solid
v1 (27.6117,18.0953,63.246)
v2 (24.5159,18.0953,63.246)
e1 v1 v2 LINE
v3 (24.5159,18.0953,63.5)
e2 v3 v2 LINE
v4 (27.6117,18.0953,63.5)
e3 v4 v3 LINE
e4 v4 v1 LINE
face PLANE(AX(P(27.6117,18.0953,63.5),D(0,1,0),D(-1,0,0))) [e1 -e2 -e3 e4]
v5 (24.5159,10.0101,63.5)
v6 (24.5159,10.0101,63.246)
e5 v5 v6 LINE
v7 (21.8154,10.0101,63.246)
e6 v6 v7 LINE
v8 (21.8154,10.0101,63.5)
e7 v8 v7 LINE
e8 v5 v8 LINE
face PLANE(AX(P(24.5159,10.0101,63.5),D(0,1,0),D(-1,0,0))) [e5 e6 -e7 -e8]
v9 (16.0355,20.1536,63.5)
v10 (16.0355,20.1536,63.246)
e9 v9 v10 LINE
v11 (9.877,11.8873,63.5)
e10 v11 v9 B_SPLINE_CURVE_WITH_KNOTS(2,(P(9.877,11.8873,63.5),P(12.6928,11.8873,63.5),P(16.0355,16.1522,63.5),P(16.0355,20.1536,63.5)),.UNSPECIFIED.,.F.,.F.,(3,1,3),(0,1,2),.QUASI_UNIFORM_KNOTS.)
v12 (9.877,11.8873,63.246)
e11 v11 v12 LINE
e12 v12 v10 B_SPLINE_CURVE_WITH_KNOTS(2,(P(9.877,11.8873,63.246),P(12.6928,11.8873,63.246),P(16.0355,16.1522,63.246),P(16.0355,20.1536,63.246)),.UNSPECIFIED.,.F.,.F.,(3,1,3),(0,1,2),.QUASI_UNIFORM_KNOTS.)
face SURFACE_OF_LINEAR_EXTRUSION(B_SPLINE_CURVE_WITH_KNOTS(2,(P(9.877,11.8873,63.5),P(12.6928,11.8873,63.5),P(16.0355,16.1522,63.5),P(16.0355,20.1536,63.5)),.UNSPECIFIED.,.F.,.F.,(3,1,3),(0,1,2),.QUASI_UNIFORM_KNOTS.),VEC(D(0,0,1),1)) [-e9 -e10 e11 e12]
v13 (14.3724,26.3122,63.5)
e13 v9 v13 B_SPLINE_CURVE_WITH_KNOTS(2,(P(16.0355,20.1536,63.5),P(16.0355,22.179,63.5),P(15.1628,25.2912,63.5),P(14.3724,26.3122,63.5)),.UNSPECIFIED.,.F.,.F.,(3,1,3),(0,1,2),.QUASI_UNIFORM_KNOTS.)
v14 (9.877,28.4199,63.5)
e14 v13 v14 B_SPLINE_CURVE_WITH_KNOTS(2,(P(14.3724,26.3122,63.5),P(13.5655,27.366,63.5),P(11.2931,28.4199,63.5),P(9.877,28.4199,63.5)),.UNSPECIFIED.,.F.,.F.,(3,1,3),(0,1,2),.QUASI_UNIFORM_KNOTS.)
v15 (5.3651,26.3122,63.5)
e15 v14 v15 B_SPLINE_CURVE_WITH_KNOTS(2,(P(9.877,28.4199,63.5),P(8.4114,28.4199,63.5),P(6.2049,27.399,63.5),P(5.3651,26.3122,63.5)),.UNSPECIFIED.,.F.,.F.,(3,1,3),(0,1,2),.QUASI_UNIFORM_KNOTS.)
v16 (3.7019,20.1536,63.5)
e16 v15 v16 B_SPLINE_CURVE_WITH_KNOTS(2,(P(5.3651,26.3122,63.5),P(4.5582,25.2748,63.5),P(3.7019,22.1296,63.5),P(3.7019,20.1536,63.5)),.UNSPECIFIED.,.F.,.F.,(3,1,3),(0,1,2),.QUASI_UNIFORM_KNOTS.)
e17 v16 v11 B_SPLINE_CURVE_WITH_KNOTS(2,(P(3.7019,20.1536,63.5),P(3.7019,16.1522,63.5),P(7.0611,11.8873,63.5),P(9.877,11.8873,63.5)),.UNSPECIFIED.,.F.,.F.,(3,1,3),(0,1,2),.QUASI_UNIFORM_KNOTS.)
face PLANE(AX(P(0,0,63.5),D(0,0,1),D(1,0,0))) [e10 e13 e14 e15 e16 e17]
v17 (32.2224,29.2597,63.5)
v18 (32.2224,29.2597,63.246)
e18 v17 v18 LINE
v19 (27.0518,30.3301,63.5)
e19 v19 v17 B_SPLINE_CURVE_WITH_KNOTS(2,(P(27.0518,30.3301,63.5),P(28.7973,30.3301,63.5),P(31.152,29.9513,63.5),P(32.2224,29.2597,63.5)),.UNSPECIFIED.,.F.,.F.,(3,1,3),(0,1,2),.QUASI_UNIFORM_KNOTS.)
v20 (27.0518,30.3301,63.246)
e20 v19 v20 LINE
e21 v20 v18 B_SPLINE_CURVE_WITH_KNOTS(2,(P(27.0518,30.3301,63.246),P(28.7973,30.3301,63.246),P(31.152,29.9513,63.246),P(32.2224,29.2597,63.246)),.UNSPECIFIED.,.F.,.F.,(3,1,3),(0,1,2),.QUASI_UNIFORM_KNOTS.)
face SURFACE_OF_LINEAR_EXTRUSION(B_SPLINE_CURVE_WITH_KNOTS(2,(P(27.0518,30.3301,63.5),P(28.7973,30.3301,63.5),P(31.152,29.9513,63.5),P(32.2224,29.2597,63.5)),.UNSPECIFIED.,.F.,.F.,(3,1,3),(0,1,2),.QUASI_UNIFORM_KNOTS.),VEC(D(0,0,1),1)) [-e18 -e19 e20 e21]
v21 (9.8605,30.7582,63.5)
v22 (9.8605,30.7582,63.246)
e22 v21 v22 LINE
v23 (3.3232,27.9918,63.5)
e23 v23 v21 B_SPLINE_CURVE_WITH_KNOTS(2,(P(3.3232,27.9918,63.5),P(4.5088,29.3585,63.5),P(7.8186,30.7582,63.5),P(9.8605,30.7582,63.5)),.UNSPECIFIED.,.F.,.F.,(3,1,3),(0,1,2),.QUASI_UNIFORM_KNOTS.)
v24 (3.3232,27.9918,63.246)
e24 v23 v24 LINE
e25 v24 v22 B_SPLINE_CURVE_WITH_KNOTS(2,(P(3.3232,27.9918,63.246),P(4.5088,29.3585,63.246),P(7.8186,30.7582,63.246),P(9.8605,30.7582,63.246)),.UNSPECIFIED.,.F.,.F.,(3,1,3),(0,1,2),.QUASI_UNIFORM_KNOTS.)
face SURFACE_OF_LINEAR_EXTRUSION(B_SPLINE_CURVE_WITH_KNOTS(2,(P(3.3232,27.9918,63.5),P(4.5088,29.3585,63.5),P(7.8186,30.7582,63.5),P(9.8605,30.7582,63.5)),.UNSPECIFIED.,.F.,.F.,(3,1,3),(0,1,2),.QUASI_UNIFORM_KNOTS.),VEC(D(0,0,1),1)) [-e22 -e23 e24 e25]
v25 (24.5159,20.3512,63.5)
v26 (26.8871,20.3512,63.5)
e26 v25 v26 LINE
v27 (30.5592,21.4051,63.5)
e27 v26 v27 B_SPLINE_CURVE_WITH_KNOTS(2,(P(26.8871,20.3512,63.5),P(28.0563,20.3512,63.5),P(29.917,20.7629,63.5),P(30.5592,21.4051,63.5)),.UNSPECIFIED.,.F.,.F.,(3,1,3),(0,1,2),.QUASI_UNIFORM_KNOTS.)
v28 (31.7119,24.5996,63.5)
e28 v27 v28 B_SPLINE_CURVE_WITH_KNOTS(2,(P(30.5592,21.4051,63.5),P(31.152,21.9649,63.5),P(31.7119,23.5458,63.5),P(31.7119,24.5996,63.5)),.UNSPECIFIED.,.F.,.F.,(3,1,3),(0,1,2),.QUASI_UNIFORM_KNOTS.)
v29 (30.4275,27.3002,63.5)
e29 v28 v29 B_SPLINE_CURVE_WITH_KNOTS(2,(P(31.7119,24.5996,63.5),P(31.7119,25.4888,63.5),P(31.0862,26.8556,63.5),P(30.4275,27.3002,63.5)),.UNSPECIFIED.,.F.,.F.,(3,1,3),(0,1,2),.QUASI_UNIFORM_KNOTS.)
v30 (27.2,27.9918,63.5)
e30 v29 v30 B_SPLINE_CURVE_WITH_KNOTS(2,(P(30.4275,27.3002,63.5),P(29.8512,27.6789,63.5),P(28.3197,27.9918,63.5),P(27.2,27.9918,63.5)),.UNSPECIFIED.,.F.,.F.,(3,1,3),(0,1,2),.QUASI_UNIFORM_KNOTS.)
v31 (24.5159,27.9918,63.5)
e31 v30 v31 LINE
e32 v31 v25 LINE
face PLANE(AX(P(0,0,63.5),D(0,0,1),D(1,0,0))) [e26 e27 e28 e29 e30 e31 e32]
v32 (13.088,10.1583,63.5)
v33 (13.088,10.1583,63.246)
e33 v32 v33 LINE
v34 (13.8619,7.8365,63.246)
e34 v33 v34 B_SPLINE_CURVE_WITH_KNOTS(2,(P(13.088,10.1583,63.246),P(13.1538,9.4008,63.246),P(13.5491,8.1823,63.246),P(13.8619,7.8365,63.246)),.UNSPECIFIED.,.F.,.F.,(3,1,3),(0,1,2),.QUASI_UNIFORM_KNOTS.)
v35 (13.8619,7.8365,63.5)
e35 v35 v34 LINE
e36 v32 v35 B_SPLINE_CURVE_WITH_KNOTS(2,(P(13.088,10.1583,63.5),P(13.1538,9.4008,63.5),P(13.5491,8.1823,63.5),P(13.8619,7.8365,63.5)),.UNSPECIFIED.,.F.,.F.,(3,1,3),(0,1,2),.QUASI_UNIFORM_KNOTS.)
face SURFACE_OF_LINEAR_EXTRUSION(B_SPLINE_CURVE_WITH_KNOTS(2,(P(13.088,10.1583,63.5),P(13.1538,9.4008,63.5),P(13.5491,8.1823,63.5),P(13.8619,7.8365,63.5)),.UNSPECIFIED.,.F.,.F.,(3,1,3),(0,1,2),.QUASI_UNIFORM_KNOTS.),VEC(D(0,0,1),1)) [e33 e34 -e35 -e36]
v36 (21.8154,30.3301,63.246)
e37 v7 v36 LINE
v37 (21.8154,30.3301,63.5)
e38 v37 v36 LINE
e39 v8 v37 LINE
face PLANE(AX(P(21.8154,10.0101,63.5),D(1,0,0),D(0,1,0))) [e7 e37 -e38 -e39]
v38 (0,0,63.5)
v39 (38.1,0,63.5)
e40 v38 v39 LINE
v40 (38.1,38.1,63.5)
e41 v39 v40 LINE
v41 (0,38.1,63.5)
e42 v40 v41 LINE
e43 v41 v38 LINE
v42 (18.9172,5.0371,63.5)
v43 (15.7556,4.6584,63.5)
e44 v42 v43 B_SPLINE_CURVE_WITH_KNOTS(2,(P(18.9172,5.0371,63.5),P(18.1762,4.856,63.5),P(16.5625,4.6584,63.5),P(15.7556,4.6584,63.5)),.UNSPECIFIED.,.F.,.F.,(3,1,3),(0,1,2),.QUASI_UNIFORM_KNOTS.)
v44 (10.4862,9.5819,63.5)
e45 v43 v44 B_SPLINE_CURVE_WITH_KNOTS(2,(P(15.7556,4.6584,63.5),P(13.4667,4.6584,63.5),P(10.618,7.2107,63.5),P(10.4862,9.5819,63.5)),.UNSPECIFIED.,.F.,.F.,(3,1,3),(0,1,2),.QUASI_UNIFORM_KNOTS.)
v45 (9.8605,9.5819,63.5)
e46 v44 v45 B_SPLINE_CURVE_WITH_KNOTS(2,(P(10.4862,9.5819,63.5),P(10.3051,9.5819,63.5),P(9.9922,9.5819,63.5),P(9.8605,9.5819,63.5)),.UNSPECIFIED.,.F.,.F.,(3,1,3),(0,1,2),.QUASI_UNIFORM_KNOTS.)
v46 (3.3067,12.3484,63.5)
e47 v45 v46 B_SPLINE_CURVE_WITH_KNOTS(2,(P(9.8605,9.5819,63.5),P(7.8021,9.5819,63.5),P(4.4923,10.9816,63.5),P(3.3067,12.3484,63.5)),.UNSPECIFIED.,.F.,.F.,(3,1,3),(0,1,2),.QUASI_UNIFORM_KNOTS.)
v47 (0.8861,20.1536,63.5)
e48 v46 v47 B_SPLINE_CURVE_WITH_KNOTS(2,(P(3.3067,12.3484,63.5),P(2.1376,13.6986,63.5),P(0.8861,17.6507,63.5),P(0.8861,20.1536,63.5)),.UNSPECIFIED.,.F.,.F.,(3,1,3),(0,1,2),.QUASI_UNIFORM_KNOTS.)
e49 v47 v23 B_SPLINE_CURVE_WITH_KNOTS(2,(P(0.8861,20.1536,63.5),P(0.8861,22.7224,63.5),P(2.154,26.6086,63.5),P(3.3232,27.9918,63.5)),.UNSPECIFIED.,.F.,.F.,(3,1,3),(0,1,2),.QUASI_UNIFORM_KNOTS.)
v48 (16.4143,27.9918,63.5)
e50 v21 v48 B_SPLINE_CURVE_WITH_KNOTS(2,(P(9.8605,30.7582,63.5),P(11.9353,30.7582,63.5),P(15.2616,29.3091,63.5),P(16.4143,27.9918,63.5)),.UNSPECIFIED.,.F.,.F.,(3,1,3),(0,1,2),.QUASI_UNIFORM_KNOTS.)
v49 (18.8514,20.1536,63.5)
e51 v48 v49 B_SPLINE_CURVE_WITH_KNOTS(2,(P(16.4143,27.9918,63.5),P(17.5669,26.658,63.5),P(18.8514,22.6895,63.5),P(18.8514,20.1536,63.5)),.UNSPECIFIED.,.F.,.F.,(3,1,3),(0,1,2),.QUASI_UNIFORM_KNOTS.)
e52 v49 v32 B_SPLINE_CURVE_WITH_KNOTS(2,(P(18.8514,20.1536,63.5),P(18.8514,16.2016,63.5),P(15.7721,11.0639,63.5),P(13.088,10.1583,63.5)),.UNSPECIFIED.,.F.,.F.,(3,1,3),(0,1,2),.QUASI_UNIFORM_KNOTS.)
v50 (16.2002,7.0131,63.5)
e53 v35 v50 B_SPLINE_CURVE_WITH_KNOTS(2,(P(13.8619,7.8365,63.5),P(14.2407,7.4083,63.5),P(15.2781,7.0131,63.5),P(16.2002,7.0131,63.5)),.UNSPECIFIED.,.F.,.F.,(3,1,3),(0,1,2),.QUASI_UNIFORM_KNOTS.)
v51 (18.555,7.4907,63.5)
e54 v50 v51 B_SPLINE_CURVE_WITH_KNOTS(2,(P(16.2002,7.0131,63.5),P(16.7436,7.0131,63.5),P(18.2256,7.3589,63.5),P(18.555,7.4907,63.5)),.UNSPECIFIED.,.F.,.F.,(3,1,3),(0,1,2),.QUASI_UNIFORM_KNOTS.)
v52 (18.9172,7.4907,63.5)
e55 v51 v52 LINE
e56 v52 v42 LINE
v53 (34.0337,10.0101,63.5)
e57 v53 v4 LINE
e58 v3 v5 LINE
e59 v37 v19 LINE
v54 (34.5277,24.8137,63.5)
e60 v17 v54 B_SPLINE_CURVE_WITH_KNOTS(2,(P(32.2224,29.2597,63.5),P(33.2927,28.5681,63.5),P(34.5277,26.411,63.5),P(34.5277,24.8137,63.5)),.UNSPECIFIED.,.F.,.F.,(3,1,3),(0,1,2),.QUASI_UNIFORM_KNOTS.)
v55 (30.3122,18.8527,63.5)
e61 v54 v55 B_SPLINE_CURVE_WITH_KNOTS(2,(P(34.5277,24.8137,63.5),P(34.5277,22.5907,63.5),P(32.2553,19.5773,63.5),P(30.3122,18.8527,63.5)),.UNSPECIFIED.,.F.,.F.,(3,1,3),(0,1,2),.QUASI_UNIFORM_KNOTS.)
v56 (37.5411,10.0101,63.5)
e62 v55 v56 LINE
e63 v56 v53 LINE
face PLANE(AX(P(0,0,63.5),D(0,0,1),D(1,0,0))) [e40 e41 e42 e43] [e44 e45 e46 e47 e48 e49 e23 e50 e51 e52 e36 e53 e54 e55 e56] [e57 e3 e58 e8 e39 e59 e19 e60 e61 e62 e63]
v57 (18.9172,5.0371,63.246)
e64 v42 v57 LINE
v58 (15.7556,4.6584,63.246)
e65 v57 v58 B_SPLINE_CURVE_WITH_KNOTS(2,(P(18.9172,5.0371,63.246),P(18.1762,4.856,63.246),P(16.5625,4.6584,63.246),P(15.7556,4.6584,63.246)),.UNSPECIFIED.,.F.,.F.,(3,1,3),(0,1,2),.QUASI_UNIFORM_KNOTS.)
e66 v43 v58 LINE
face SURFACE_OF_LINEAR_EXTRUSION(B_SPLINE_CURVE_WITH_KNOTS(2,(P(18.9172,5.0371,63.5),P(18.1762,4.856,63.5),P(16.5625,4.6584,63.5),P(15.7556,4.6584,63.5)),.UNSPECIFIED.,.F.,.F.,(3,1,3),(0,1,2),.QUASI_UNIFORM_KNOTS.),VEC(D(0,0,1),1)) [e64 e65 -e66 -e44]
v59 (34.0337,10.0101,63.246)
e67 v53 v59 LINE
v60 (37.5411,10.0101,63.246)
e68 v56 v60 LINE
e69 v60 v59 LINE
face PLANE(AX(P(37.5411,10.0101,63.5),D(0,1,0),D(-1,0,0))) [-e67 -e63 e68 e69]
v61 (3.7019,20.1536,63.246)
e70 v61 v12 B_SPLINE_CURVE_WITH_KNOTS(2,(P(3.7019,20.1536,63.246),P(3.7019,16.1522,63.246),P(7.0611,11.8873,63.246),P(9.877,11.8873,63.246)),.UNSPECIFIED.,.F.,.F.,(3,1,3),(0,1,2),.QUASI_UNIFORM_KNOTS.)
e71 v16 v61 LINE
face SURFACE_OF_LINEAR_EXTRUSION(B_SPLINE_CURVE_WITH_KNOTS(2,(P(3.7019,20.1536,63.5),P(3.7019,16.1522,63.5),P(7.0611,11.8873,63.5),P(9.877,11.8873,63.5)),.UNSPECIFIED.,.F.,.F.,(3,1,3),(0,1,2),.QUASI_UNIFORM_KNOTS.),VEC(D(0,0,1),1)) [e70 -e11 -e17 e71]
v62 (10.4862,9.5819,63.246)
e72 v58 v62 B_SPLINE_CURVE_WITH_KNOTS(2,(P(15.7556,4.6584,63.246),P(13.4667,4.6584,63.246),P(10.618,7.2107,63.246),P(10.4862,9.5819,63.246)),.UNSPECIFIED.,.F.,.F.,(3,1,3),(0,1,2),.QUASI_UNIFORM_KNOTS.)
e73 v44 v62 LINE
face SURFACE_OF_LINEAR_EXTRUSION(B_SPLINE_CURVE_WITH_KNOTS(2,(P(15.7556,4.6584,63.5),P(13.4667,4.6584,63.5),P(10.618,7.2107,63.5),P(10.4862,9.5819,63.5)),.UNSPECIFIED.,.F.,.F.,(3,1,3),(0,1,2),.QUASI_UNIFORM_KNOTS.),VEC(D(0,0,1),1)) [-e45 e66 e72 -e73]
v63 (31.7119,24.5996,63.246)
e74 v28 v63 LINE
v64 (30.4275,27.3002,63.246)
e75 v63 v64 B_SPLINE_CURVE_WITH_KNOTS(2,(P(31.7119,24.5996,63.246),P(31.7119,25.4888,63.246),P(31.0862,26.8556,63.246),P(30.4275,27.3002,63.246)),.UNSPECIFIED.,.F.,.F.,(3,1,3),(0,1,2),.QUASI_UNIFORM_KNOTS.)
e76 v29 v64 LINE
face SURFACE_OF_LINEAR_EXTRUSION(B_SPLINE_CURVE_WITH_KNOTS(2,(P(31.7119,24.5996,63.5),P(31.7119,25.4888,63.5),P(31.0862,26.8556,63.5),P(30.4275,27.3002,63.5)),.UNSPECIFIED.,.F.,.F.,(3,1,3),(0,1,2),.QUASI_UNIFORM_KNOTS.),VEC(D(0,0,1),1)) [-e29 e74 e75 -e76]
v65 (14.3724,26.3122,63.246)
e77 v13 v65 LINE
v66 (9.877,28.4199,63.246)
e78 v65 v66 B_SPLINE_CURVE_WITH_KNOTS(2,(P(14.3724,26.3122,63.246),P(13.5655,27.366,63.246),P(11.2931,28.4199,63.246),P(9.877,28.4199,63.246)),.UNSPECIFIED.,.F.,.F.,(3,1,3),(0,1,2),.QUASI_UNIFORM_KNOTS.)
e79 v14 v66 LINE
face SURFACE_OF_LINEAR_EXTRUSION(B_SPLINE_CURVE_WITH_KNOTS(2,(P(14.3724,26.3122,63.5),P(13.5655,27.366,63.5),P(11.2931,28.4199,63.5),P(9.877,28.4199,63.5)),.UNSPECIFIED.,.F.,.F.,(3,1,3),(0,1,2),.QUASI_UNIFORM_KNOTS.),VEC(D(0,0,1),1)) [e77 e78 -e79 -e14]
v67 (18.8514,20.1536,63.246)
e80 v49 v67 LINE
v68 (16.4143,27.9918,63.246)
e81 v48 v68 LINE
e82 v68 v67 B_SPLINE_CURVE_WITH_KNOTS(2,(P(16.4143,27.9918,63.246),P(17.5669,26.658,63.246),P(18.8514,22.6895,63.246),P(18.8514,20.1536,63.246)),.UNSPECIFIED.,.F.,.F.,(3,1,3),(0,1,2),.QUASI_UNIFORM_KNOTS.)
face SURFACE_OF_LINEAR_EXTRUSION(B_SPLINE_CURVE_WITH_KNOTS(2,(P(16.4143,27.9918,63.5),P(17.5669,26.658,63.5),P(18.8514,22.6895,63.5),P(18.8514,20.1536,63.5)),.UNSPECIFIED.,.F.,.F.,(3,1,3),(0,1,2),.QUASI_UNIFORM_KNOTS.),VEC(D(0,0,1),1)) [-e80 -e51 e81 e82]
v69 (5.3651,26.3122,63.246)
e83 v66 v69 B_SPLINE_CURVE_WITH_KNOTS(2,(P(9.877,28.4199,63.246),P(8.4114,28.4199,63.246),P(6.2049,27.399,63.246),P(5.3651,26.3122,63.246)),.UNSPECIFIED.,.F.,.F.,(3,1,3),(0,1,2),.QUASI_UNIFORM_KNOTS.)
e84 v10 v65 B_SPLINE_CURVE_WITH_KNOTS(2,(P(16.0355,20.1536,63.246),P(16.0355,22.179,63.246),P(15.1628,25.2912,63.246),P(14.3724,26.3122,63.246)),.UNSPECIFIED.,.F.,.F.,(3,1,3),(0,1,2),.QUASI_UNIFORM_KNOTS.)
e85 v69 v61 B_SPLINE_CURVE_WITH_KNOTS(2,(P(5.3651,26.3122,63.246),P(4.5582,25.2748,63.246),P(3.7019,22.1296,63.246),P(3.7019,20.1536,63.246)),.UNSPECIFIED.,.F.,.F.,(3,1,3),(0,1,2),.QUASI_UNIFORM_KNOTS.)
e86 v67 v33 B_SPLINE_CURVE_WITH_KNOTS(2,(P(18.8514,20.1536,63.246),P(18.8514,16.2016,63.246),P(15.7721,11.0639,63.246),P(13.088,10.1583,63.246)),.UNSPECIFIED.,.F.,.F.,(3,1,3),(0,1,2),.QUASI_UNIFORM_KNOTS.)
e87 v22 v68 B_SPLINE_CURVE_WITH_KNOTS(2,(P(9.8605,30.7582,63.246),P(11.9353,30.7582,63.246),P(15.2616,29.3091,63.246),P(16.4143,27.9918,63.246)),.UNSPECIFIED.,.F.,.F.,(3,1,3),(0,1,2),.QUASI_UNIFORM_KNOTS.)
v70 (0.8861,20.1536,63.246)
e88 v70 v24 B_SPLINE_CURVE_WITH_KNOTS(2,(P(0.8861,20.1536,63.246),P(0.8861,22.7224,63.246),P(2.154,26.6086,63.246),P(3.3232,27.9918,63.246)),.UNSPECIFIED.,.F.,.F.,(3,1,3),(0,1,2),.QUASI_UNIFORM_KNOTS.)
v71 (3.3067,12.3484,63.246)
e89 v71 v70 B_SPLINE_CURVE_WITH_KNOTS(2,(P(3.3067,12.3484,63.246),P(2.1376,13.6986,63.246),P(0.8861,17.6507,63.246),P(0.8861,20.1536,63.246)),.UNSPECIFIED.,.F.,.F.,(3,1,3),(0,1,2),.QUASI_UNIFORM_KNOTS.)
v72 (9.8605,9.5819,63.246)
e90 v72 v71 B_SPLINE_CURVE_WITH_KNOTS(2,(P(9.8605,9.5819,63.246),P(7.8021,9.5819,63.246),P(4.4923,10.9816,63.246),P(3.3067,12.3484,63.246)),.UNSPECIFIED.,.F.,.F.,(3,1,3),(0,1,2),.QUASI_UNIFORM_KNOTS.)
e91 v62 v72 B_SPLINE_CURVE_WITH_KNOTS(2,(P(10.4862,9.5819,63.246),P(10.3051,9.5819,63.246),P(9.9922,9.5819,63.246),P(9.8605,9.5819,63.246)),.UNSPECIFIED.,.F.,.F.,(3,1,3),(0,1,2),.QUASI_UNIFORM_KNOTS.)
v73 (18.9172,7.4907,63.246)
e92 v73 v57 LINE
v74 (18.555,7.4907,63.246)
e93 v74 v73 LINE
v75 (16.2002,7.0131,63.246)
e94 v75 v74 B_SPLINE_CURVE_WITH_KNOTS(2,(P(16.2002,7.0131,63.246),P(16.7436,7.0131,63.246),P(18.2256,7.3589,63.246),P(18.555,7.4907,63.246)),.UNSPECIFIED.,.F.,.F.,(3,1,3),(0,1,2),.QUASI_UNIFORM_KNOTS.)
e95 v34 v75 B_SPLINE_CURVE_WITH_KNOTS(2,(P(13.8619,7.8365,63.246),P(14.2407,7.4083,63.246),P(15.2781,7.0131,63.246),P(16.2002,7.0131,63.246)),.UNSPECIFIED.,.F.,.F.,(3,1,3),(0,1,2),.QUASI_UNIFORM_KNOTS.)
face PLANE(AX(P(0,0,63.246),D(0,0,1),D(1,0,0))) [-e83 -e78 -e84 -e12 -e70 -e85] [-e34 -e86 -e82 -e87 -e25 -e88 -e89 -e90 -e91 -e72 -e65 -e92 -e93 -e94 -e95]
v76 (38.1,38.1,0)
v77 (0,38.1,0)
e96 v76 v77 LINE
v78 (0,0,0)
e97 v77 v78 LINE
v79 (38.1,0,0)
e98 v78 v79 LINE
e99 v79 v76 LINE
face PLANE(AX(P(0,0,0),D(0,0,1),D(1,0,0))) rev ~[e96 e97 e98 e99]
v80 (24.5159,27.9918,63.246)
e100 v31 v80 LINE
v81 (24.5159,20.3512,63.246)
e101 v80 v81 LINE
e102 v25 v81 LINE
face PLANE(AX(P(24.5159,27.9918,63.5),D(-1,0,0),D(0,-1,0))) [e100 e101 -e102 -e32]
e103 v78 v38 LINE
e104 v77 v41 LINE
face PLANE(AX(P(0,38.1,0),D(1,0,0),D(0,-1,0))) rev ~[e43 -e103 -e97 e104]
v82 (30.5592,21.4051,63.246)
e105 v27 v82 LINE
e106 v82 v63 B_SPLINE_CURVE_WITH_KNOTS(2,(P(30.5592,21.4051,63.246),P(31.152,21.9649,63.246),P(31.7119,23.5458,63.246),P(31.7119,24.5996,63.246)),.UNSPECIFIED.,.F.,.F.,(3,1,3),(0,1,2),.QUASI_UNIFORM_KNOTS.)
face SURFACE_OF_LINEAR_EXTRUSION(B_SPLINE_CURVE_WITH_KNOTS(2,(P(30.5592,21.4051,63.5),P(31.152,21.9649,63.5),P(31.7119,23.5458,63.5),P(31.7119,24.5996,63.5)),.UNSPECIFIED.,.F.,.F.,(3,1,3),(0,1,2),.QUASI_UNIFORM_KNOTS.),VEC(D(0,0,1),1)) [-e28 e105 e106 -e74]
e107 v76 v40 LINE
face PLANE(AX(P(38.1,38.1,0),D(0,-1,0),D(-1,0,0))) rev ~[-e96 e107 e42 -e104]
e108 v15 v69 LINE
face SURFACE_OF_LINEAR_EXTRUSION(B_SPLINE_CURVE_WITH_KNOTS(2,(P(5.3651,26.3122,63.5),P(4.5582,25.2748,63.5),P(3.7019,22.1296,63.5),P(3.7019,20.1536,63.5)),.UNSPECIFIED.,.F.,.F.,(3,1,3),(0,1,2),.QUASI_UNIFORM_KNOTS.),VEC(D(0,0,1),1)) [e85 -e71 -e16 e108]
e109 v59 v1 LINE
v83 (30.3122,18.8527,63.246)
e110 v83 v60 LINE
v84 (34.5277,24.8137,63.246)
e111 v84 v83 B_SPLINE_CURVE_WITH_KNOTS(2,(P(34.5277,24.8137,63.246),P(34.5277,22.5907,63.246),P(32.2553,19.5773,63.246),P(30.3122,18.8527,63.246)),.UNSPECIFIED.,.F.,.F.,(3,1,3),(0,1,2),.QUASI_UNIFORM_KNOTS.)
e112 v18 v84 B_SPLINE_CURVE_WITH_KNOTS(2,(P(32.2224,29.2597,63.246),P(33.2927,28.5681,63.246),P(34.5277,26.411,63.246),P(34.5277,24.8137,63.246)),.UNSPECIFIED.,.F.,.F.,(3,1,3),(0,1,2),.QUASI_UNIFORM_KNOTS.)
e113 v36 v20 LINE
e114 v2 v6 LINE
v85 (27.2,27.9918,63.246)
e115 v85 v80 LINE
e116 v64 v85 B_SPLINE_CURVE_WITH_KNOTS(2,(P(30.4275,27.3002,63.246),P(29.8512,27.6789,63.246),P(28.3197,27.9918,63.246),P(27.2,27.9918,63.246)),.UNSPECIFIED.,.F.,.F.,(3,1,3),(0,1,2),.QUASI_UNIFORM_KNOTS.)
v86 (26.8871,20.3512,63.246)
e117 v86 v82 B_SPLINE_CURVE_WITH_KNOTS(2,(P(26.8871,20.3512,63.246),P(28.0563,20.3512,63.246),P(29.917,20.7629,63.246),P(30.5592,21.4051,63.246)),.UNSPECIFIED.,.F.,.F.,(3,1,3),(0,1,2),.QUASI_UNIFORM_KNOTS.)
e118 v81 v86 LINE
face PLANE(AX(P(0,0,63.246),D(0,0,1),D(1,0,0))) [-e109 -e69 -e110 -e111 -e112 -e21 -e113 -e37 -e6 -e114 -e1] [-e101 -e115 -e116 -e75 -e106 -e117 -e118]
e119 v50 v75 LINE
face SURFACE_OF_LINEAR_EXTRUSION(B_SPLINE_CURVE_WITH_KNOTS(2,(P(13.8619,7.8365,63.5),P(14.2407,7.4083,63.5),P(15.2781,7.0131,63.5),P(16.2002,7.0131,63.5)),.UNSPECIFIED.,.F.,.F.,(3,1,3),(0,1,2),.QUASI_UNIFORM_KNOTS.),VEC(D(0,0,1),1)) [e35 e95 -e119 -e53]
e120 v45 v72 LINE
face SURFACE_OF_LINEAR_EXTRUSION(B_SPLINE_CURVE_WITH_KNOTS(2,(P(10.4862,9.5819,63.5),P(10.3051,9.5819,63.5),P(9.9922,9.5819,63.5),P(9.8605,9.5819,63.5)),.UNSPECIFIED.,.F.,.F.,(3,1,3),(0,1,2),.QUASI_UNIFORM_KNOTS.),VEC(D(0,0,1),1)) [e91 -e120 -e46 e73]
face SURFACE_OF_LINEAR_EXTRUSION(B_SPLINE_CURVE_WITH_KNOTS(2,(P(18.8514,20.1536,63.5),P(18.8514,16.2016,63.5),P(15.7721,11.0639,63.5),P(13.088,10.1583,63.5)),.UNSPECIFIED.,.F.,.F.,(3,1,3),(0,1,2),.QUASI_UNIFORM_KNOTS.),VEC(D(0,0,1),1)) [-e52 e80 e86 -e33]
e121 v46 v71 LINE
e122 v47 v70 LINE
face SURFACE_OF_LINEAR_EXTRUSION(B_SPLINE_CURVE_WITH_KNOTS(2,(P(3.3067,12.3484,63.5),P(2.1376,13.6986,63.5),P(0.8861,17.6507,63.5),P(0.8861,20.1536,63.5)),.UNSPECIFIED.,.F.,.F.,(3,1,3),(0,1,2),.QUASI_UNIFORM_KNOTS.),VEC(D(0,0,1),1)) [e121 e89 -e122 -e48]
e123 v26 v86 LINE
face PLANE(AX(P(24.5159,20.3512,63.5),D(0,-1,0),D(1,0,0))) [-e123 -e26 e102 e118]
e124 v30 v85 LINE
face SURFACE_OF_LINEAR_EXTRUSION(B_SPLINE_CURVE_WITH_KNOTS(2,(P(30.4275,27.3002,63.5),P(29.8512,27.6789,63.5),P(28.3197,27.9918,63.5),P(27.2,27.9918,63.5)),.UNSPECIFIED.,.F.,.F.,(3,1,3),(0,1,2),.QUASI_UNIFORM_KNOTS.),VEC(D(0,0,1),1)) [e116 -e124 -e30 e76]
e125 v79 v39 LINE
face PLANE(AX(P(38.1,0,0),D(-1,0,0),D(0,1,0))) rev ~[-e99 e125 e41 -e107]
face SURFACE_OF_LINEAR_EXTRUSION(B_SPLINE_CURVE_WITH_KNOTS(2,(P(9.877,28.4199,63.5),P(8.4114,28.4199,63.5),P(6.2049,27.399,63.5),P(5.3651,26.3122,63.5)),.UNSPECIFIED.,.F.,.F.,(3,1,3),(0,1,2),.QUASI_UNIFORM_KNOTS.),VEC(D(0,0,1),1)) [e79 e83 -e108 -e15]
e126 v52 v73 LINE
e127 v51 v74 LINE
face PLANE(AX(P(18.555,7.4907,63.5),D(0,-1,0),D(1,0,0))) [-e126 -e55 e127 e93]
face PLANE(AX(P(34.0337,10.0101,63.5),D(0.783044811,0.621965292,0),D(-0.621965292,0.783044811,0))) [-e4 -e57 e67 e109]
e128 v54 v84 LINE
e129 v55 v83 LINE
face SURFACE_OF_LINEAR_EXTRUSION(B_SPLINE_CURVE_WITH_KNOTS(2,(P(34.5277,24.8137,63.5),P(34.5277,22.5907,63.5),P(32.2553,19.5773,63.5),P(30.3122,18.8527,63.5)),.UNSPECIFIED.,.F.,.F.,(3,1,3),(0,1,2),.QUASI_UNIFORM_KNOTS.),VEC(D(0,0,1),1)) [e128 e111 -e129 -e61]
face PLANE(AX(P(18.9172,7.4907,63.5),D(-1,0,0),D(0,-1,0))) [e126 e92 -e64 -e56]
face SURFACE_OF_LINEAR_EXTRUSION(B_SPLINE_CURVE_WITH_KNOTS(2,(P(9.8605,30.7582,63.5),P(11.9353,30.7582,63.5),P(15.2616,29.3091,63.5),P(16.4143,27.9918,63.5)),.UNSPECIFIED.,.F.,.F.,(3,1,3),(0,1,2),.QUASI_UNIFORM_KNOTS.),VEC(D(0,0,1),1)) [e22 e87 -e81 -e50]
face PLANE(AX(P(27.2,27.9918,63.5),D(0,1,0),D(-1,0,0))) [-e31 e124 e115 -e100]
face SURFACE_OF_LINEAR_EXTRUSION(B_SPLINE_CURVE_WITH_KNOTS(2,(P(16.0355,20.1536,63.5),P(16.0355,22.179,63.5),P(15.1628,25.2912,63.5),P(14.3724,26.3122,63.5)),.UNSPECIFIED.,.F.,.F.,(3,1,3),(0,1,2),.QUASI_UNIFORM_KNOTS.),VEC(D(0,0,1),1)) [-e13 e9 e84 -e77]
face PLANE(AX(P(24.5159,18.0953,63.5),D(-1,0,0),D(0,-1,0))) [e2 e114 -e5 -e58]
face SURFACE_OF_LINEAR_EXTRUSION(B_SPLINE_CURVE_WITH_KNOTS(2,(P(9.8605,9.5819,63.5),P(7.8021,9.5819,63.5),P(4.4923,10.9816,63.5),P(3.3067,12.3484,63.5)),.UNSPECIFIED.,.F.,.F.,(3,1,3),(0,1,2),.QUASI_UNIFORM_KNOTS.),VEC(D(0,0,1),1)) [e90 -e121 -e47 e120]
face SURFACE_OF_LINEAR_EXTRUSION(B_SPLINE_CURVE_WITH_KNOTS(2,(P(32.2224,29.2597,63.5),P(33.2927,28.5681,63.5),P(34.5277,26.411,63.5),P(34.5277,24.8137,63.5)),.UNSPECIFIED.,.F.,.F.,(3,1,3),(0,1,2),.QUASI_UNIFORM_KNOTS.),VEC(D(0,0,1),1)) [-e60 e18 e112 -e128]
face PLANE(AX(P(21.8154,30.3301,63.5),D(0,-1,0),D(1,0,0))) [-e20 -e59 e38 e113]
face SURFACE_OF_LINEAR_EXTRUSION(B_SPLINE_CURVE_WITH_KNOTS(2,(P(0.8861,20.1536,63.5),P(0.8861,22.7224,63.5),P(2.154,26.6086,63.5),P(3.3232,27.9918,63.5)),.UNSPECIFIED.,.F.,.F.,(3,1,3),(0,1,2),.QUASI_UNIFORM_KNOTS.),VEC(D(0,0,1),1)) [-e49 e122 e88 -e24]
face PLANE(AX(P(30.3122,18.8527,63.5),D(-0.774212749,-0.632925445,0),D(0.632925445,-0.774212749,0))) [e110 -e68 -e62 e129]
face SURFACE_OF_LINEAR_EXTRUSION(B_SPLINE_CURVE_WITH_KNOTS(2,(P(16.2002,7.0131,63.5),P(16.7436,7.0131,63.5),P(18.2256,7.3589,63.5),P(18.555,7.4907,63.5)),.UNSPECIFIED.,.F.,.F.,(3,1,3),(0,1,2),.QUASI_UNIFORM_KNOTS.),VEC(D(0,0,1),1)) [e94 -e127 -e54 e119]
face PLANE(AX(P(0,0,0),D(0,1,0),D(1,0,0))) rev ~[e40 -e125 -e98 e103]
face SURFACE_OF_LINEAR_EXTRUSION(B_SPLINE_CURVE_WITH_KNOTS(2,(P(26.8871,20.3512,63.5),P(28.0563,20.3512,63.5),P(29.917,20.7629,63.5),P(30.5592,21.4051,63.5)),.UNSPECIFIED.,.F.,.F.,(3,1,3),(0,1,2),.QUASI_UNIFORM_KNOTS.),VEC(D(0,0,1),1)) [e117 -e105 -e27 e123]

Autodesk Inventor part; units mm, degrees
ref_plane "YZ Plane" through (0, 0, 0) normal (1, 0, 0) x (0, 1, 0)
ref_plane "XZ Plane" through (0, 0, 0) normal (0, 1, 0) x (-1, 0, 0)
ref_plane "XY Plane" through (0, 0, 0) normal (0, 0, 1) x (1, 0, 0)
sketch "Sketch1" plane through (0, 0, 0) normal (0, 0, 1) x (1, 0, 0)
  line L0 (0, 0) -> (38.1, 0)
  line L1 (38.1, 0) -> (38.1, 38.1)
  line L2 (38.1, 38.1) -> (0, 38.1)
  line L3 (0, 38.1) -> (0, 0)
  dimension "d0" = 38.1
  dimension "d1" = 38.1
extrude "Extrusion1" add sketch "Sketch1" along normal blind 63.5
sketch "Sketch2" plane through (0, 0, 63.5) normal (0, 0, 1) x (1, 0, 0)
  line L0 (-0.0196, 30.7582) -> (23.178, 30.7582) construction
  line L1 (23.178, 30.7582) -> (23.178, 14.4458) construction
  line L2 (23.178, 14.4458) -> (-0.0196, 14.4458) construction
  line L3 (-0.0196, 14.4458) -> (-0.0196, 30.7582) construction
  spline S0 degree 2 poles (18.9172, 5.0371) (18.1762, 4.856) (16.5625, 4.6584) (15.7556, 4.6584) knots 0 0 0 1 2 2 2
  spline S1 degree 2 poles (15.7556, 4.6584) (13.4667, 4.6584) (10.618, 7.2107) (10.4862, 9.5819) knots 0 0 0 1 2 2 2
  spline S2 degree 2 poles (10.4862, 9.5819) (10.3051, 9.5819) (9.9922, 9.5819) (9.8605, 9.5819) knots 0 0 0 1 2 2 2
  spline S3 degree 2 poles (9.8605, 9.5819) (7.8021, 9.5819) (4.4923, 10.9816) (3.3067, 12.3484) knots 0 0 0 1 2 2 2
  spline S4 degree 2 poles (3.3067, 12.3484) (2.1376, 13.6986) (0.8861, 17.6507) (0.8861, 20.1536) knots 0 0 0 1 2 2 2
  spline S5 degree 2 poles (0.8861, 20.1536) (0.8861, 22.7224) (2.154, 26.6086) (3.3232, 27.9918) knots 0 0 0 1 2 2 2
  spline S6 degree 2 poles (3.3232, 27.9918) (4.5088, 29.3585) (7.8186, 30.7582) (9.8605, 30.7582) knots 0 0 0 1 2 2 2
  spline S7 degree 2 poles (9.8605, 30.7582) (11.9353, 30.7582) (15.2616, 29.3091) (16.4143, 27.9918) knots 0 0 0 1 2 2 2
  spline S8 degree 2 poles (16.4143, 27.9918) (17.5669, 26.658) (18.8514, 22.6895) (18.8514, 20.1536) knots 0 0 0 1 2 2 2
  spline S9 degree 2 poles (18.8514, 20.1536) (18.8514, 16.2016) (15.7721, 11.0639) (13.088, 10.1583) knots 0 0 0 1 2 2 2
  spline S10 degree 2 poles (13.088, 10.1583) (13.1538, 9.4008) (13.5491, 8.1823) (13.8619, 7.8365) knots 0 0 0 1 2 2 2
  spline S11 degree 2 poles (13.8619, 7.8365) (14.2407, 7.4083) (15.2781, 7.0131) (16.2002, 7.0131) knots 0 0 0 1 2 2 2
  spline S12 degree 2 poles (16.2002, 7.0131) (16.7436, 7.0131) (18.2256, 7.3589) (18.555, 7.4907) knots 0 0 0 1 2 2 2
  line L4 (18.555, 7.4907) -> (18.9172, 7.4907)
  line L5 (18.9172, 7.4907) -> (18.9172, 5.0371)
  spline S13 degree 2 poles (16.0355, 20.1536) (16.0355, 22.179) (15.1628, 25.2912) (14.3724, 26.3122) knots 0 0 0 1 2 2 2
  spline S14 degree 2 poles (14.3724, 26.3122) (13.5655, 27.366) (11.2931, 28.4199) (9.877, 28.4199) knots 0 0 0 1 2 2 2
  spline S15 degree 2 poles (9.877, 28.4199) (8.4114, 28.4199) (6.2049, 27.399) (5.3651, 26.3122) knots 0 0 0 1 2 2 2
  spline S16 degree 2 poles (5.3651, 26.3122) (4.5582, 25.2748) (3.7019, 22.1296) (3.7019, 20.1536) knots 0 0 0 1 2 2 2
  spline S17 degree 2 poles (3.7019, 20.1536) (3.7019, 16.1522) (7.0611, 11.8873) (9.877, 11.8873) knots 0 0 0 1 2 2 2
  spline S18 degree 2 poles (9.877, 11.8873) (12.6928, 11.8873) (16.0355, 16.1522) (16.0355, 20.1536) knots 0 0 0 1 2 2 2
  line L6 (37.5411, 10.0101) -> (34.0337, 10.0101)
  line L7 (34.0337, 10.0101) -> (27.6117, 18.0953)
  line L8 (27.6117, 18.0953) -> (24.5159, 18.0953)
  line L9 (24.5159, 18.0953) -> (24.5159, 10.0101)
  line L10 (24.5159, 10.0101) -> (21.8154, 10.0101)
  line L11 (21.8154, 10.0101) -> (21.8154, 30.3301)
  line L12 (21.8154, 30.3301) -> (27.0518, 30.3301)
  spline S19 degree 2 poles (27.0518, 30.3301) (28.7973, 30.3301) (31.152, 29.9513) (32.2224, 29.2597) knots 0 0 0 1 2 2 2
  spline S20 degree 2 poles (32.2224, 29.2597) (33.2927, 28.5681) (34.5277, 26.411) (34.5277, 24.8137) knots 0 0 0 1 2 2 2
  spline S21 degree 2 poles (34.5277, 24.8137) (34.5277, 22.5907) (32.2553, 19.5773) (30.3122, 18.8527) knots 0 0 0 1 2 2 2
  line L13 (30.3122, 18.8527) -> (37.5411, 10.0101)
  spline S22 degree 2 poles (31.7119, 24.5996) (31.7119, 25.4888) (31.0862, 26.8556) (30.4275, 27.3002) knots 0 0 0 1 2 2 2
  spline S23 degree 2 poles (30.4275, 27.3002) (29.8512, 27.6789) (28.3197, 27.9918) (27.2, 27.9918) knots 0 0 0 1 2 2 2
  line L14 (27.2, 27.9918) -> (24.5159, 27.9918)
  line L15 (24.5159, 27.9918) -> (24.5159, 20.3512)
  line L16 (24.5159, 20.3512) -> (26.8871, 20.3512)
  spline S24 degree 2 poles (26.8871, 20.3512) (28.0563, 20.3512) (29.917, 20.7629) (30.5592, 21.4051) knots 0 0 0 1 2 2 2
  spline S25 degree 2 poles (30.5592, 21.4051) (31.152, 21.9649) (31.7119, 23.5458) (31.7119, 24.5996) knots 0 0 0 1 2 2 2
  point P0 (0, 0)
extrude "Extrusion2" cut sketch "Sketch2" against normal blind 0.254
equation "\"d1\" = d0"
properties part number "Container 2 2 2 and half color 2"
